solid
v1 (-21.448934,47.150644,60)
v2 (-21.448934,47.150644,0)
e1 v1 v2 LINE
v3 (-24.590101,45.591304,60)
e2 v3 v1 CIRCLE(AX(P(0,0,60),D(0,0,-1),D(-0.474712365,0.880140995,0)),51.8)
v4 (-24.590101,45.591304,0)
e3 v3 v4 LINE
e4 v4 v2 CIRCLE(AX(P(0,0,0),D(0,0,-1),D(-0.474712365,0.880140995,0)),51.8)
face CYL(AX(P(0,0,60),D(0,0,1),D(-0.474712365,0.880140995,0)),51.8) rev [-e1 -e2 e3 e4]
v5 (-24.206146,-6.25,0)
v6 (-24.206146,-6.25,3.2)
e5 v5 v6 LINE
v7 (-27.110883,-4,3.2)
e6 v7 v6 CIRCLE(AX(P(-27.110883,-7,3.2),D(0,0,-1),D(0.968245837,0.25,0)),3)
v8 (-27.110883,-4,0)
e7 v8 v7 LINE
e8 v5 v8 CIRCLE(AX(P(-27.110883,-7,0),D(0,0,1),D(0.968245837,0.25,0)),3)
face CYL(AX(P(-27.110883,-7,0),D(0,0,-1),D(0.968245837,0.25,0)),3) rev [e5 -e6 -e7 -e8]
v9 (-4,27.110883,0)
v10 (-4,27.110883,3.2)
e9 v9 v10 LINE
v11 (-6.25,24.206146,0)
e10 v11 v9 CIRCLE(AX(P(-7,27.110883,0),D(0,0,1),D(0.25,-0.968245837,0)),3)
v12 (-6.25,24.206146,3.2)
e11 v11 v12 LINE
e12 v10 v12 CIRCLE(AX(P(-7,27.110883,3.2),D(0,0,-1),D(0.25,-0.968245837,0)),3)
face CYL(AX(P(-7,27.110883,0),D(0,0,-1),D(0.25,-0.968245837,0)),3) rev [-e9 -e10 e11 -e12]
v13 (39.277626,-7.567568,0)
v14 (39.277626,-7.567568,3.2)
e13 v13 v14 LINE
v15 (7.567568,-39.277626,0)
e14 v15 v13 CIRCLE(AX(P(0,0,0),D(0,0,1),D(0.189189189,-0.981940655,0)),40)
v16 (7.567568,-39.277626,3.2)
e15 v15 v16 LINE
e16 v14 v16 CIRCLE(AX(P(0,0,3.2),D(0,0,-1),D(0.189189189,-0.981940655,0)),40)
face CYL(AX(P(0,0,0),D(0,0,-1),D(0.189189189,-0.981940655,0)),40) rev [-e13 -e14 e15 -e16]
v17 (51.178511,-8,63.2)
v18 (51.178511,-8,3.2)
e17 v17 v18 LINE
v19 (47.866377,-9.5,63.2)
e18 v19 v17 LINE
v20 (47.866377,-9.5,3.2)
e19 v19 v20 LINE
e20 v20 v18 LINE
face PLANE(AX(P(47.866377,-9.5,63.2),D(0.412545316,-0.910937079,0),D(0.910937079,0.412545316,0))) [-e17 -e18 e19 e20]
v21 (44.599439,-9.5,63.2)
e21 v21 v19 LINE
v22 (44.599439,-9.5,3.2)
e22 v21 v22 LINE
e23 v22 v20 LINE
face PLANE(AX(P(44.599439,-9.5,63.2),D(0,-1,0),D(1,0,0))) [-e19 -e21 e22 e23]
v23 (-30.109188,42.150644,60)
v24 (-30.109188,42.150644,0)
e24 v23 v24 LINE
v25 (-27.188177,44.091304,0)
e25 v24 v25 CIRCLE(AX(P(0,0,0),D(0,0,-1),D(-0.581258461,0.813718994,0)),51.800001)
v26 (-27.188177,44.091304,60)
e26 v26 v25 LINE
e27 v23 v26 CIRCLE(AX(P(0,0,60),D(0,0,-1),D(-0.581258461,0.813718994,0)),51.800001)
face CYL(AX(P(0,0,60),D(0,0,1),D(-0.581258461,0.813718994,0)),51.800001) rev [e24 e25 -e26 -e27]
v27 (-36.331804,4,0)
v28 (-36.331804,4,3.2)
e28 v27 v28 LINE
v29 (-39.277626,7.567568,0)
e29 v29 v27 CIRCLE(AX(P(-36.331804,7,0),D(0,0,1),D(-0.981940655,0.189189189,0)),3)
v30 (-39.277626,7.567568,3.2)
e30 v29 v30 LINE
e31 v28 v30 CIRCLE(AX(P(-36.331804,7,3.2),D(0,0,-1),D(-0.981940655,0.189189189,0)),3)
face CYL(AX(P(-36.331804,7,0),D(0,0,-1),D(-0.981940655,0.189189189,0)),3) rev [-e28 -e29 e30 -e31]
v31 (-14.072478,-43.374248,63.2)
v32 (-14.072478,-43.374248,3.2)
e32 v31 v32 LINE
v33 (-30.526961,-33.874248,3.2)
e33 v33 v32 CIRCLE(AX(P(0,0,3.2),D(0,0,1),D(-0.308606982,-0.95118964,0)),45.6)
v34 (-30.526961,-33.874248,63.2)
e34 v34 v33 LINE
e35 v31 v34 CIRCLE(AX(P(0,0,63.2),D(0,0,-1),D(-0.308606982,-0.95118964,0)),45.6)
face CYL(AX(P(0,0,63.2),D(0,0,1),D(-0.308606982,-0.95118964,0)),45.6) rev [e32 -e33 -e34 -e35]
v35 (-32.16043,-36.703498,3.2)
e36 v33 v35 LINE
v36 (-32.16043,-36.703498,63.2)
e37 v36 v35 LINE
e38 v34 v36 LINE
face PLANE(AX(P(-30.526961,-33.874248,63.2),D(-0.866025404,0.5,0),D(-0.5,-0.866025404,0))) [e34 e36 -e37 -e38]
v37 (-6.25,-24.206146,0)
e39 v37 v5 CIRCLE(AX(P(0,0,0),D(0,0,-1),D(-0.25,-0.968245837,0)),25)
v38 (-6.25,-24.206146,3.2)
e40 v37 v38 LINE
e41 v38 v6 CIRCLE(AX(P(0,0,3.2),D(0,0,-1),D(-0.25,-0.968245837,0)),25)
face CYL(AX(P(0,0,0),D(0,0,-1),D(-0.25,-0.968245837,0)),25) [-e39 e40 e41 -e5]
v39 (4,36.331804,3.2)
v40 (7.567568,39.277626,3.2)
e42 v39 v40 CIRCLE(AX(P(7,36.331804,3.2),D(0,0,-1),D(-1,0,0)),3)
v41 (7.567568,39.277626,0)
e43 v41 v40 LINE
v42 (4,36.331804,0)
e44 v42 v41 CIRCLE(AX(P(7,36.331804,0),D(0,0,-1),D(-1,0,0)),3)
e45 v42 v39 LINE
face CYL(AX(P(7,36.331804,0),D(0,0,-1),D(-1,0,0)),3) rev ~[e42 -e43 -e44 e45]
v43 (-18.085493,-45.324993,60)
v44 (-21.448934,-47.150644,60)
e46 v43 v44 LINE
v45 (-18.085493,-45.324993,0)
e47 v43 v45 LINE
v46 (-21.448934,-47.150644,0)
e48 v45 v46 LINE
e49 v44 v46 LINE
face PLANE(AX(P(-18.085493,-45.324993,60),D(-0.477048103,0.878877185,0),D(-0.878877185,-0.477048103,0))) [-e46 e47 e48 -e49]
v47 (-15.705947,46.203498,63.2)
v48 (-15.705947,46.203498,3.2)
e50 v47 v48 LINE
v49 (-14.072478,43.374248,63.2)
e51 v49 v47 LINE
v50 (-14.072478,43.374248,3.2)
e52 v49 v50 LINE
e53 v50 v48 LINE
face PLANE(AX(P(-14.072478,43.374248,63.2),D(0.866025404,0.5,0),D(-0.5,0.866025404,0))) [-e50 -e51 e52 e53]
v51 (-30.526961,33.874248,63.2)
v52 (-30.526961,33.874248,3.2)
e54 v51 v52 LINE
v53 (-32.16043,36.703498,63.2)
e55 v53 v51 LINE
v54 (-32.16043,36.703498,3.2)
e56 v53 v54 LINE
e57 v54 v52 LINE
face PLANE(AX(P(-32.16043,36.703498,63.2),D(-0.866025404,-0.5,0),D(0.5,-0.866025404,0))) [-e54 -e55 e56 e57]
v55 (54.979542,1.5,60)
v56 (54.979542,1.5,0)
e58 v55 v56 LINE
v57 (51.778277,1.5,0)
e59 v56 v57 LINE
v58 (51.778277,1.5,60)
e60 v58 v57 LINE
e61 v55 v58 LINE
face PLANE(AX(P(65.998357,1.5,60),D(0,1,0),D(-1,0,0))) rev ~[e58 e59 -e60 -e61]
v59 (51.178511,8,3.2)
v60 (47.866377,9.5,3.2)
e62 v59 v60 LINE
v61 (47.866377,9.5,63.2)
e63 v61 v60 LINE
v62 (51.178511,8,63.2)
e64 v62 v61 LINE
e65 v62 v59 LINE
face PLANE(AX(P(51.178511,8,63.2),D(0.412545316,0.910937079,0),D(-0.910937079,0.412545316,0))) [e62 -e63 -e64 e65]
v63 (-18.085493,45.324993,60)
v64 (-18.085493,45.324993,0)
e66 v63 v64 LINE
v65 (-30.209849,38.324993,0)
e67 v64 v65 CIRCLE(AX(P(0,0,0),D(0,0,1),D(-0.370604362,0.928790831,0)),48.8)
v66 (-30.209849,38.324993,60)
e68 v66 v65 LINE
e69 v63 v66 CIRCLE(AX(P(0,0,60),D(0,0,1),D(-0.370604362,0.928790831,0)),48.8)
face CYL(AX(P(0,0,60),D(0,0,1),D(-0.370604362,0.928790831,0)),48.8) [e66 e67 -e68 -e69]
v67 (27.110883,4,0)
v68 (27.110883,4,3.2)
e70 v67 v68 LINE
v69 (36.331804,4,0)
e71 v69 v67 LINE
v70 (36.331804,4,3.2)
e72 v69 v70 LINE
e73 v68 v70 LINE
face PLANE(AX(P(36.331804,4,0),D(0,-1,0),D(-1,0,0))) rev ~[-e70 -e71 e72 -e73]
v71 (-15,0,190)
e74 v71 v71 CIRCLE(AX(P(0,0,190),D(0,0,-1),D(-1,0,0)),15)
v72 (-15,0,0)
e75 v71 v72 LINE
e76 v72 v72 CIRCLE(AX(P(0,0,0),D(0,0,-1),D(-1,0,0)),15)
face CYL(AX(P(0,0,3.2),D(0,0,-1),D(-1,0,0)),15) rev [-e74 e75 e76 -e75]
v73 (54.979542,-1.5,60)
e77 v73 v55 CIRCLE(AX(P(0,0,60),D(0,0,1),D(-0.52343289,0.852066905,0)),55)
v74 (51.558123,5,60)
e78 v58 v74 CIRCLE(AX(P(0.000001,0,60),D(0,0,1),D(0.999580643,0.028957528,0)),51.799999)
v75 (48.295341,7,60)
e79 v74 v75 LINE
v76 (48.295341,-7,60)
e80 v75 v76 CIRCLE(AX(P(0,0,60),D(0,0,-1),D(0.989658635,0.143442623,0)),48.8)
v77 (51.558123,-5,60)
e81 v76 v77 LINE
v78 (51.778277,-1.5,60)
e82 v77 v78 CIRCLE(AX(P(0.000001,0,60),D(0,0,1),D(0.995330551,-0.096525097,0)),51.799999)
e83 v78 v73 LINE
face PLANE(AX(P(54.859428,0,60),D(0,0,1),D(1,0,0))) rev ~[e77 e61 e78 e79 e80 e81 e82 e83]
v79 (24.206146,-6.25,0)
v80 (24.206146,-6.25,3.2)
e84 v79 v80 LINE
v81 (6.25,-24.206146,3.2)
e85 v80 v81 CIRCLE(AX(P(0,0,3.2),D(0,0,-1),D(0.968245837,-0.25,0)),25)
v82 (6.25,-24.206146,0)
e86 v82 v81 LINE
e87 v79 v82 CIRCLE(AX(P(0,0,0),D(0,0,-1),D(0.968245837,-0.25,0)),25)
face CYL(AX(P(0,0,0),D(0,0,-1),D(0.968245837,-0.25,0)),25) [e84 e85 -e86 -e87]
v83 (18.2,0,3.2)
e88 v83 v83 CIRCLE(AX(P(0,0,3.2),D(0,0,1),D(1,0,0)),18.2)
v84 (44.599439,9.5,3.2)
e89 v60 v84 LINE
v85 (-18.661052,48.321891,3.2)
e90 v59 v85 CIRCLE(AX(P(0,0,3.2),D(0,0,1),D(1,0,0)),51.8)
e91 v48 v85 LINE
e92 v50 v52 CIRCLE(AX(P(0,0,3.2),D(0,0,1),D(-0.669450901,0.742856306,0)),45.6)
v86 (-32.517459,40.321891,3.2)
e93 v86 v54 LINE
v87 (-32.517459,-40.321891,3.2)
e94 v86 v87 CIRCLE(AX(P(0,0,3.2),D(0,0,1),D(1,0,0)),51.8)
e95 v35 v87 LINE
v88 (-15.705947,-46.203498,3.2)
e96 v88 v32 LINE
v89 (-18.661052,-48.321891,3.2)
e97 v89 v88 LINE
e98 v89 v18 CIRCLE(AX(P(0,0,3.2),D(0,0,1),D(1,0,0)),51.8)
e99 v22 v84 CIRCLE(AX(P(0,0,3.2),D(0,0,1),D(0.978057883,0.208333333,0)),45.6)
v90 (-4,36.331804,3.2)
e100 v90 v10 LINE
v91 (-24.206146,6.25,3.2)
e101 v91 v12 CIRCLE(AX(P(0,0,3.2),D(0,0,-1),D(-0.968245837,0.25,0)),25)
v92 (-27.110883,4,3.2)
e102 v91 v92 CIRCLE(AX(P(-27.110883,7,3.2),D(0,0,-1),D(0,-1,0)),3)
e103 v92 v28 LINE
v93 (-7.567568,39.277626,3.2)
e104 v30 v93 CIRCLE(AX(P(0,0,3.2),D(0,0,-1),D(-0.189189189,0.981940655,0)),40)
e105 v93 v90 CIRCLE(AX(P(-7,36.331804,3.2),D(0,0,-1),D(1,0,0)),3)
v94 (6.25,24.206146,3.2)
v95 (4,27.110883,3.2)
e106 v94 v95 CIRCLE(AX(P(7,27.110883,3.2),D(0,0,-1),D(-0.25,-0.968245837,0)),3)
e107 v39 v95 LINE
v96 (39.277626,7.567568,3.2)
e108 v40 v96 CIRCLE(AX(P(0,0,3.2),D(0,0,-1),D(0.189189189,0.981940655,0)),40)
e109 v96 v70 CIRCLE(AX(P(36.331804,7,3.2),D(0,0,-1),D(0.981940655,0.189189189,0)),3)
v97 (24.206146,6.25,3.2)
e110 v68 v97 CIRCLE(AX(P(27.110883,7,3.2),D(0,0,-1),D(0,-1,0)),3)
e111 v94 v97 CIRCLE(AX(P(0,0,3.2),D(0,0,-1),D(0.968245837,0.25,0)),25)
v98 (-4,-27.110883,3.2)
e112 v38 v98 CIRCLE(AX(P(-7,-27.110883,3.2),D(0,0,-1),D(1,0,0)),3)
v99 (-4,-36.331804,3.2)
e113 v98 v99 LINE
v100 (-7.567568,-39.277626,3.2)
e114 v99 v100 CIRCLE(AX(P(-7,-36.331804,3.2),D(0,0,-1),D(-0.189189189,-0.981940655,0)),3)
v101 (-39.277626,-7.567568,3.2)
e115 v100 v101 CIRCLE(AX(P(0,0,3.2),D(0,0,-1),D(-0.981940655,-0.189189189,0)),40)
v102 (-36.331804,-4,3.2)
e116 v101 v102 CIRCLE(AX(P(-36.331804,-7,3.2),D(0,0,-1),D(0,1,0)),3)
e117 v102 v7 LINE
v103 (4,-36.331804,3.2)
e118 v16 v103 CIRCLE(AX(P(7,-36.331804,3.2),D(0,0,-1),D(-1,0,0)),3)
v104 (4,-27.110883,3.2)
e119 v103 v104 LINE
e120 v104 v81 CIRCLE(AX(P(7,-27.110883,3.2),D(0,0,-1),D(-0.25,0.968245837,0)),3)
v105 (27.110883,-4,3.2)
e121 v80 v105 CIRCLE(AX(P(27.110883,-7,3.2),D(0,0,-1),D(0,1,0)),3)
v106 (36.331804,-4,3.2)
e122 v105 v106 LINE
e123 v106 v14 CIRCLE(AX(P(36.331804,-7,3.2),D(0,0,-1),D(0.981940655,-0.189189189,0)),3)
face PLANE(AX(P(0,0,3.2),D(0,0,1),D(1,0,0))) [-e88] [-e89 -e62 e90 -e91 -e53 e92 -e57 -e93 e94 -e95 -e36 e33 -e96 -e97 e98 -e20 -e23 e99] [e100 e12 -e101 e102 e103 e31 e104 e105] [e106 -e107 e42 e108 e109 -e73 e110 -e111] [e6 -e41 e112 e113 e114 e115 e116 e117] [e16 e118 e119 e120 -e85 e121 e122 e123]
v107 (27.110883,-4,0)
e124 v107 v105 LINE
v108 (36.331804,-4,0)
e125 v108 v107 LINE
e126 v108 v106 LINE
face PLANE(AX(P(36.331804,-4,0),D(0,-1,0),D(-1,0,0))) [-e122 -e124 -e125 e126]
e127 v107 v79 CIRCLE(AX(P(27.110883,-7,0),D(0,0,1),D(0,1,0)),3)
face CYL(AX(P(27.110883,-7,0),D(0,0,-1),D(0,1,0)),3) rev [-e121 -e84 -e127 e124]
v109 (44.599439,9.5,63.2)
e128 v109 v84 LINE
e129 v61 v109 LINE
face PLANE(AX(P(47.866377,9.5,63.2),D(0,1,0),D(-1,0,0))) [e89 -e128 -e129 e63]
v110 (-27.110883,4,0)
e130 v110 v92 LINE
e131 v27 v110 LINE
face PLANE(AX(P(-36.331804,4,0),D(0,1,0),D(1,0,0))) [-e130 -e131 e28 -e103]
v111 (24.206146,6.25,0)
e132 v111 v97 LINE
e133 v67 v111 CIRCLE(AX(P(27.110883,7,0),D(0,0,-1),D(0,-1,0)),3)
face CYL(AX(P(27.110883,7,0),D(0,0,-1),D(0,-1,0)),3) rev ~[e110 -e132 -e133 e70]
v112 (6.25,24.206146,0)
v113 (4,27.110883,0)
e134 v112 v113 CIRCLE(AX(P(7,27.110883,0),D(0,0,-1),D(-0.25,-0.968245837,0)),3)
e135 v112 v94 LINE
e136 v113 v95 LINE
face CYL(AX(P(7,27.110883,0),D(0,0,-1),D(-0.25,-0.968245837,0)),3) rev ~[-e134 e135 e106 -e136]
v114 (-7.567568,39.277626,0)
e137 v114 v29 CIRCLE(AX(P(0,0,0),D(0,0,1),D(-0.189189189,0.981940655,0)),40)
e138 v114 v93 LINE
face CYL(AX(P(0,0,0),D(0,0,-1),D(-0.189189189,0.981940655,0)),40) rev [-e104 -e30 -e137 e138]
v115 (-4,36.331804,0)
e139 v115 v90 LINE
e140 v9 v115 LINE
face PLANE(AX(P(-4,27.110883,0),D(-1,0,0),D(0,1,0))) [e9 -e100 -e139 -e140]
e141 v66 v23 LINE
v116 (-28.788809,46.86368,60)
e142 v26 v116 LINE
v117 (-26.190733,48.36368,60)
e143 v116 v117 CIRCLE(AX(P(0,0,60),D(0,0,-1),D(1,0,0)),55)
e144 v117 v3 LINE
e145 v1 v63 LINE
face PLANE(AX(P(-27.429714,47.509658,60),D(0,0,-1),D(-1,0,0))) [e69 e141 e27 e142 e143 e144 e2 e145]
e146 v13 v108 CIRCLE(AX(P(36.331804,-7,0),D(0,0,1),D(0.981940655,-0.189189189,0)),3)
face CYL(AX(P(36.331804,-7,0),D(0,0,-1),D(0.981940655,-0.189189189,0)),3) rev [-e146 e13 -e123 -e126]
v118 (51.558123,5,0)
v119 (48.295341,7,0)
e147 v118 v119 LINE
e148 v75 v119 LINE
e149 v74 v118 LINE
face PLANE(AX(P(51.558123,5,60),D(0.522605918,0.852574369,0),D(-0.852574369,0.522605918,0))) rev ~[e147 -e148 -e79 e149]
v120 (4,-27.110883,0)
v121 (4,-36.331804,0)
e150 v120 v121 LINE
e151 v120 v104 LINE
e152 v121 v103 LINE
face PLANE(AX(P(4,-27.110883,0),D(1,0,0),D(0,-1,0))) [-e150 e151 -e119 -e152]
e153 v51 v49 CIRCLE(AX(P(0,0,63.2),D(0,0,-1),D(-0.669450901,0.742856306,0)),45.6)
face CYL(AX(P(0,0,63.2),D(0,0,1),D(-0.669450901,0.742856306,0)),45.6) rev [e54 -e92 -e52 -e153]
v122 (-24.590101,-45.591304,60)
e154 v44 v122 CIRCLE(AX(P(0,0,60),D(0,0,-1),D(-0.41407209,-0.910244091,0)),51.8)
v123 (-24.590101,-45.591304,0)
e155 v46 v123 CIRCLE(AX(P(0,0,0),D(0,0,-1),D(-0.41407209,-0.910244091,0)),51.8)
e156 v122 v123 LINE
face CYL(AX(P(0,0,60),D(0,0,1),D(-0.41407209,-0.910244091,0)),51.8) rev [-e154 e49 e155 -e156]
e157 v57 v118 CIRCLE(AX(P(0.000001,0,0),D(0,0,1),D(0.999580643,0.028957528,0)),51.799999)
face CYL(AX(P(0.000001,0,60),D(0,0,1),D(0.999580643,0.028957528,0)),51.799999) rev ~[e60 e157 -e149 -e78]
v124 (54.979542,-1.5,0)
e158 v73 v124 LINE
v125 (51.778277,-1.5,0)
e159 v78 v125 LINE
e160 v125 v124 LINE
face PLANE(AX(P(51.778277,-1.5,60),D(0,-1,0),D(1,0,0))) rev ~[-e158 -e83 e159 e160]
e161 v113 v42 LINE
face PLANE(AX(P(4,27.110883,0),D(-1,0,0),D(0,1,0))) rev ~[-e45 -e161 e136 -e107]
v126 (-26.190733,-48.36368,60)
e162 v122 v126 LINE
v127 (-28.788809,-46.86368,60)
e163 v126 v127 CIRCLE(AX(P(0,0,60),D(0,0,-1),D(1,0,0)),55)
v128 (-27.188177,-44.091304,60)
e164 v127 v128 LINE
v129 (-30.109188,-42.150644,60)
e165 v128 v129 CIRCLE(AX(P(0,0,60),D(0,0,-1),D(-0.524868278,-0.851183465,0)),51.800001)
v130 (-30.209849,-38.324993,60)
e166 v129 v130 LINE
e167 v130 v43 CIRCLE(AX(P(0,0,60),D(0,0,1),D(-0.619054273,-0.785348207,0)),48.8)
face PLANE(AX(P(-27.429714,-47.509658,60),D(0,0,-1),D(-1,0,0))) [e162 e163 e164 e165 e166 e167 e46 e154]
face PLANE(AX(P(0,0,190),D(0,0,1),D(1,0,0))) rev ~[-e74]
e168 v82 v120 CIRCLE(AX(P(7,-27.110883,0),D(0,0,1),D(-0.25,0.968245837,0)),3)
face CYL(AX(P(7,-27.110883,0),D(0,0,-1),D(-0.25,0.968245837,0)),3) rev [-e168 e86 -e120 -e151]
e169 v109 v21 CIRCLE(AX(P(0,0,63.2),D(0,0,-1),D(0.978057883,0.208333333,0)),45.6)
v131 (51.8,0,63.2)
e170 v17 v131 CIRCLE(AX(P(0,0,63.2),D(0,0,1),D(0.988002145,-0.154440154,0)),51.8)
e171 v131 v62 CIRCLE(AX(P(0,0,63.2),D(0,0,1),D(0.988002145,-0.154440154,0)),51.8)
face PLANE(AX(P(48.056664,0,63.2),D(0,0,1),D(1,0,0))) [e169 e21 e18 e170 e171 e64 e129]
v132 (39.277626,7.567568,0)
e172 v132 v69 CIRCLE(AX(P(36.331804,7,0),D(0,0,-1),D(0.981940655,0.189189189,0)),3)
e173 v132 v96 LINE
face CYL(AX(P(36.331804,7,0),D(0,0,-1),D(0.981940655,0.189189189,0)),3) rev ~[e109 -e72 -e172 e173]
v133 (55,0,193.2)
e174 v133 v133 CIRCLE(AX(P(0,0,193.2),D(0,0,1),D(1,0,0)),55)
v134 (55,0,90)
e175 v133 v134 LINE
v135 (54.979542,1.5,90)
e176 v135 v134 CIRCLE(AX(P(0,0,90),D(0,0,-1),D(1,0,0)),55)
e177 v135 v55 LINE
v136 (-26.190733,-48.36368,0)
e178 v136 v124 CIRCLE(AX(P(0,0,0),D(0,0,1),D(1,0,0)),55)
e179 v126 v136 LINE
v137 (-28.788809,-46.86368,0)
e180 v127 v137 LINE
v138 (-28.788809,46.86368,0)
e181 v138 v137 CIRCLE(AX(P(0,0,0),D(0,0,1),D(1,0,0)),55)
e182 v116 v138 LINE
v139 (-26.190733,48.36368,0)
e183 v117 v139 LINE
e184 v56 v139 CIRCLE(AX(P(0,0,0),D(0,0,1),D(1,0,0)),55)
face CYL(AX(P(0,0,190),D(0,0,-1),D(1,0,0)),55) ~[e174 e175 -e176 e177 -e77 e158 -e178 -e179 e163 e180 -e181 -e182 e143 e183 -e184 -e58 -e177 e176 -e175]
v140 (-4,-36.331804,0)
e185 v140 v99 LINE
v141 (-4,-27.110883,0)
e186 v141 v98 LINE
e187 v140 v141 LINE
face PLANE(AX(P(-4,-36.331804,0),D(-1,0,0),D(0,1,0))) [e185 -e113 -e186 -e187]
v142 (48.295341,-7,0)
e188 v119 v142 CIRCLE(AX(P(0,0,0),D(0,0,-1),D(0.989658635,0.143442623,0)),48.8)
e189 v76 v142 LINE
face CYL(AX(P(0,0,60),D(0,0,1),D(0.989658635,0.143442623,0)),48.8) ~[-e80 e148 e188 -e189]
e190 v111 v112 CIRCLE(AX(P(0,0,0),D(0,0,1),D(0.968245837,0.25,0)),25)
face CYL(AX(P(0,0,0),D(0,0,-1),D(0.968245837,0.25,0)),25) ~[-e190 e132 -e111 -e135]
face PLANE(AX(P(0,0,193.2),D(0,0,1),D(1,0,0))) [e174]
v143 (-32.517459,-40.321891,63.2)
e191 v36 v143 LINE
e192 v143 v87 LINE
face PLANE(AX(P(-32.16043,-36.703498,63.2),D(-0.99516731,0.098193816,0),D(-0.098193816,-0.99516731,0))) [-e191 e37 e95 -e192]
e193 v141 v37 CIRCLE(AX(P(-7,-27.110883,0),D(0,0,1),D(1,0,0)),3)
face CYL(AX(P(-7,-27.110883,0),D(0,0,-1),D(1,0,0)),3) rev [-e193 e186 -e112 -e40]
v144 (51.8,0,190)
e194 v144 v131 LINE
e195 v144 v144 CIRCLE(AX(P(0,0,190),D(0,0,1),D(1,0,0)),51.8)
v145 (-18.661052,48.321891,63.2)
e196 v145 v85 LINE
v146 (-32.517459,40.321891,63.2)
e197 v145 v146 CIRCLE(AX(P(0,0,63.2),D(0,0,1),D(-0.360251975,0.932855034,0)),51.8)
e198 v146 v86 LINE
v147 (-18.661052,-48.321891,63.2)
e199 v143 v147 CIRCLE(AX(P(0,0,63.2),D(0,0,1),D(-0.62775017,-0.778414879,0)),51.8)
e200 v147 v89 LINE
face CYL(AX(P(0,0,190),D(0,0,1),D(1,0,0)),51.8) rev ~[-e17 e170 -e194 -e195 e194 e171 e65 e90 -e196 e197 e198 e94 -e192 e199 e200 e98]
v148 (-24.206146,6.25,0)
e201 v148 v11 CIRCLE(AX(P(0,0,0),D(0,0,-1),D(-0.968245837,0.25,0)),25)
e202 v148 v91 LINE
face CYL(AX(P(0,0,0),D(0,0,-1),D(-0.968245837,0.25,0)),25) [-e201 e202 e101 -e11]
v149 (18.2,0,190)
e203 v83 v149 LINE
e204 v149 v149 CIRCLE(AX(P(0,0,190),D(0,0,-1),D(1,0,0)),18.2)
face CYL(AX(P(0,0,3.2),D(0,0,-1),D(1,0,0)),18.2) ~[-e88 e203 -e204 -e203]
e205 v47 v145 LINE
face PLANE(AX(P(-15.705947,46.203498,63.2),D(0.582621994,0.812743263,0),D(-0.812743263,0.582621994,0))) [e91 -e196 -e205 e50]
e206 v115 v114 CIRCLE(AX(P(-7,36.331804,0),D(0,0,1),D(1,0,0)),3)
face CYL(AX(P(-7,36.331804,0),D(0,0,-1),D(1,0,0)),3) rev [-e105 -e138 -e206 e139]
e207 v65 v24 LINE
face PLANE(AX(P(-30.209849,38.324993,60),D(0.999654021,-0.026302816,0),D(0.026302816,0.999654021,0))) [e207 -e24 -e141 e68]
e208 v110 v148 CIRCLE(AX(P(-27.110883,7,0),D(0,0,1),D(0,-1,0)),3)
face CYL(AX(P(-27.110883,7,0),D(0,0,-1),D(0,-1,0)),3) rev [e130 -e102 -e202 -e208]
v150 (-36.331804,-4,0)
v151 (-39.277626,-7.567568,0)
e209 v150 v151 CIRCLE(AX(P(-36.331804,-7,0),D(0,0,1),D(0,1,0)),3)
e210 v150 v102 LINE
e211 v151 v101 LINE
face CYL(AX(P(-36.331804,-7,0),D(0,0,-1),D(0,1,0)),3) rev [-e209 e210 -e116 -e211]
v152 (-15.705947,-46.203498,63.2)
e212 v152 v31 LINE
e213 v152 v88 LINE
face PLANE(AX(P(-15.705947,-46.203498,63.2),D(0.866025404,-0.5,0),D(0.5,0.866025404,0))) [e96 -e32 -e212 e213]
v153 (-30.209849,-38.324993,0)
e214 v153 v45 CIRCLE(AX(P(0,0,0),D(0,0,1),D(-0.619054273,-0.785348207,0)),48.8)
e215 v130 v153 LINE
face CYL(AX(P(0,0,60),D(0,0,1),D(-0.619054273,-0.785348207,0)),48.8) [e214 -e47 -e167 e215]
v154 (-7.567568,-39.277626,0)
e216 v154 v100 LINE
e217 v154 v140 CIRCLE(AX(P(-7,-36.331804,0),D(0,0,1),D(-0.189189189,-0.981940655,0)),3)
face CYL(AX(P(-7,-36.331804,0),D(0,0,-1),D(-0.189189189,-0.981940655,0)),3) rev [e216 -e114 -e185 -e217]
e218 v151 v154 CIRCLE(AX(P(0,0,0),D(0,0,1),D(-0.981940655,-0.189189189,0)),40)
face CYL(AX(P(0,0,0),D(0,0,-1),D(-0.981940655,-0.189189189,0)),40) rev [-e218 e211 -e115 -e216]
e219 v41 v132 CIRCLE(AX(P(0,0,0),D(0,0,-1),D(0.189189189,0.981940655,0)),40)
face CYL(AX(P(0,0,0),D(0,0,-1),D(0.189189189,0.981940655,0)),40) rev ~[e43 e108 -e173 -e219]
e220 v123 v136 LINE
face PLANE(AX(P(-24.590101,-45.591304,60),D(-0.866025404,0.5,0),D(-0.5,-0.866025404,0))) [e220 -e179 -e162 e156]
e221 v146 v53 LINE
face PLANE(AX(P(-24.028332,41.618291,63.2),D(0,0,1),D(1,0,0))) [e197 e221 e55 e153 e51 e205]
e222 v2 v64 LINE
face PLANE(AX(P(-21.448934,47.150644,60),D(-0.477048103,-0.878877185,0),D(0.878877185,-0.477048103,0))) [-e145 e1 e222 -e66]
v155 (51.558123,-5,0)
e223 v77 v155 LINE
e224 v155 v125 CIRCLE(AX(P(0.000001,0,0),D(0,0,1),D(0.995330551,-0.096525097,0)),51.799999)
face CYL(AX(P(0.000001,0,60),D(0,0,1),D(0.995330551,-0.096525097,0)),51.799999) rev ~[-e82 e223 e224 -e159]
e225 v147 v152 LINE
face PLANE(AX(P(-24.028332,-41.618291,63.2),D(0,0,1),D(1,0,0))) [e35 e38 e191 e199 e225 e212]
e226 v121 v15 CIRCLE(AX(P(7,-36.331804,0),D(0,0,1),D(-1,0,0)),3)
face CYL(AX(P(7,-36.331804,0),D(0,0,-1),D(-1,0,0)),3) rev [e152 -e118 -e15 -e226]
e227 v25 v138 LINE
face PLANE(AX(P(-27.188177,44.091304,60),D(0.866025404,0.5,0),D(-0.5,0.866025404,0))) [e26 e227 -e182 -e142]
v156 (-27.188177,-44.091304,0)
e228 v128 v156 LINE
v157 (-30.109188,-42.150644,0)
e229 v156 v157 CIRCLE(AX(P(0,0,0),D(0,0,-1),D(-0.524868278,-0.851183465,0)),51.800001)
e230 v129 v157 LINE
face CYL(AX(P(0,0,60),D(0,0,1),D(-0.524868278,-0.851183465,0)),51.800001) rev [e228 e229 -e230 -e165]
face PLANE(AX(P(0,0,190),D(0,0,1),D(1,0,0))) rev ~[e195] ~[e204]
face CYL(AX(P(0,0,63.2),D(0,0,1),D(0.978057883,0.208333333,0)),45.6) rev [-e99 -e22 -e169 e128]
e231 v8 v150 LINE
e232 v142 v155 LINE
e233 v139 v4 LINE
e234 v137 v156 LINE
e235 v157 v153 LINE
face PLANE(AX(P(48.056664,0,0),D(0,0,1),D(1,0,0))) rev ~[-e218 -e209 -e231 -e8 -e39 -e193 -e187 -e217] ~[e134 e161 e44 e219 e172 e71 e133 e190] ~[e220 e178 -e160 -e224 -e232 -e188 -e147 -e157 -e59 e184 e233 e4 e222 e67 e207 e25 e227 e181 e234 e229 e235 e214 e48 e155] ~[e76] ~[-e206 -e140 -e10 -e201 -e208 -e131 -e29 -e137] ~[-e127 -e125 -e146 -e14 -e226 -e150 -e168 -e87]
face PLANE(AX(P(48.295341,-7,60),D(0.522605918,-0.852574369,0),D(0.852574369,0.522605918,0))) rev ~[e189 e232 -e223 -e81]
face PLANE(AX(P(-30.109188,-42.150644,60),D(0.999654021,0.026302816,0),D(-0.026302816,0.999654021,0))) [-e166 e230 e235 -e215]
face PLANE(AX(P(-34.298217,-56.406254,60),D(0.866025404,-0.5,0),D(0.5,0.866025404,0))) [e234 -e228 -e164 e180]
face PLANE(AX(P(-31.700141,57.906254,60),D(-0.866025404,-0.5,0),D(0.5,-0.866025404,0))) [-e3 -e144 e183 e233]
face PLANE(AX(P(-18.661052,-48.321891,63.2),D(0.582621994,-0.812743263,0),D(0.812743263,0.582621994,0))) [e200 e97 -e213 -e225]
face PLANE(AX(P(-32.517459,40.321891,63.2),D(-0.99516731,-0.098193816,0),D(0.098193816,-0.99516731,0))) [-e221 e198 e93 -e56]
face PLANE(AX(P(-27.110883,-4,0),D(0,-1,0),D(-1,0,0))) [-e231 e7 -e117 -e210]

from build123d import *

# Parameters (mm, degrees)
SKETCH_1_R          = 55
EXTRUDE_1_DEPTH     = 190
SKETCH_2_R          = 51.8
CUT_EXTRUDE_1_DEPTH = 186.8
SKETCH_3_R          = 15
CUT_EXTRUDE_2_DEPTH = 10
SKETCH_4_R          = 18.2
SKETCH_4_R_2        = 15
EXTRUDE_2_DEPTH     = 188
SKETCH_5_R          = 55
EXTRUDE_5_DEPTH     = 3.2
EXTRUDE_6_DEPTH     = 1.5
EXTRUDE_START       = -63.2
EXTRUDE_7_DEPTH     = 63.2
CUT_EXTRUDE_START   = -60
CUT_EXTRUDE_4_DEPTH = 60
SKETCH_12_R         = 138.367390037
SKETCH_12_R_2       = 55
CUT_EXTRUDE_5_DEPTH = 135
CUT_EXTRUDE_6_DEPTH = 10


with BuildPart() as part:
    # 草图1 → 凸台-拉伸1 (new body)
    with BuildSketch(Plane.XY):
        Circle(SKETCH_1_R)
    extrude(amount=EXTRUDE_1_DEPTH)

    # 草图2 → 切除-拉伸1 (cut)
    with BuildSketch(Plane.XY.offset(190)):
        Circle(SKETCH_2_R)
    extrude(amount=-CUT_EXTRUDE_1_DEPTH, mode=Mode.SUBTRACT)

    # 草图3 → 切除-拉伸2 (cut)
    with BuildSketch(Plane(origin=(0, 0, 0), x_dir=(-1, 0, 0), z_dir=(0, 0, -1))):
        Circle(SKETCH_3_R)
    extrude(amount=-CUT_EXTRUDE_2_DEPTH, mode=Mode.SUBTRACT)

    # 草图4 → 凸台-拉伸2 (add)
    with BuildSketch(Plane.XY.offset(3.2)):
        Circle(SKETCH_4_R)
        with Locations(Location((0, 0, 0), (0, 0, 180))):
            Circle(SKETCH_4_R_2, mode=Mode.SUBTRACT)
    extrude(amount=EXTRUDE_2_DEPTH)

    # 草图5 → 凸台-拉伸5 (add)
    with BuildSketch(Plane.XY.offset(190)):
        Circle(SKETCH_5_R)
    extrude(amount=EXTRUDE_5_DEPTH)

    # 草图8 → 凸台-拉伸6 (add, symmetric)
    with BuildSketch(Plane(origin=(0, 0, 0), x_dir=(-1, 0, 0), z_dir=(0, 1, 0))):
        Polygon((-55, 90), (-135, 65), (-135, -15), (-55, 0), (-53, 0), (-53, 90), align=None)
    extrude(amount=EXTRUDE_6_DEPTH, both=True)

    # 草图9 → 凸台-拉伸7 (add)
    with BuildSketch(Plane(origin=(0, 0, 0), x_dir=(-1, 0, 0), z_dir=(0, 0, -1)).offset(EXTRUDE_START)):
        with BuildLine():
            Line((-51.178511116, 8), (-47.866376508, 9.5))
            Line((-47.866376508, 9.5), (-44.599439458, 9.5))
            ThreePointArc((-44.599439458, 9.5), (-45.6, 0), (-44.599439458, -9.5))
            Line((-44.599439458, -9.5), (-47.866376508, -9.5))
            Line((-47.866376508, -9.5), (-51.178511116, -8))
            ThreePointArc((-51.178511116, -8), (-51.8, 0), (-51.178511116, 8))
        make_face()
        with BuildLine():
            Line((32.517458788, 40.321890754), (32.16042959, 36.703498043))
            Line((32.16042959, 36.703498043), (30.526961065, 33.874247565))
            ThreePointArc((30.526961065, 33.874247565), (22.8, 39.490758413), (14.072478393, 43.374247565))
            Line((14.072478393, 43.374247565), (15.705946918, 46.203498043))
            Line((15.705946918, 46.203498043), (18.661052327, 48.321890754))
            ThreePointArc((18.661052327, 48.321890754), (25.9, 44.860115916), (32.517458788, 40.321890754))
        make_face()
        with BuildLine():
            Line((18.661052327, -48.321890754), (15.705946918, -46.203498043))
            Line((15.705946918, -46.203498043), (14.072478393, -43.374247565))
            ThreePointArc((14.072478393, -43.374247565), (22.8, -39.490758413), (30.526961065, -33.874247565))
            Line((30.526961065, -33.874247565), (32.16042959, -36.703498043))
            Line((32.16042959, -36.703498043), (32.517458788, -40.321890754))
            ThreePointArc((32.517458788, -40.321890754), (25.9, -44.860115916), (18.661052327, -48.321890754))
        make_face()
    extrude(amount=EXTRUDE_7_DEPTH)

    # 草图11 → 切除-拉伸4 (cut)
    with BuildSketch(Plane(origin=(0, 0, 0), x_dir=(-1, 0, 0), z_dir=(0, 0, -1)).offset(CUT_EXTRUDE_START)):
        with BuildLine():
            Line((-65.998357279, 1.5), (-51.778277298, 1.5))
            ThreePointArc((-51.778277298, 1.5), (-51.697827643, 3.251863624), (-51.558122541, 5))
            Line((-51.558122541, 5), (-48.29534139, 7))
            ThreePointArc((-48.29534139, 7), (-48.8, 0), (-48.29534139, -7))
            Line((-48.29534139, -7), (-51.558122541, -5))
            ThreePointArc((-51.558122541, -5), (-51.697827643, -3.251863624), (-51.778277298, -1.5))
            Line((-51.778277298, -1.5), (-65.998357279, -1.5))
            Line((-65.998357279, -1.5), (-65.998357279, 1.5))
        make_face()
        with BuildLine():
            Line((34.298216745, 56.406254012), (31.700140534, 57.906254012))
            Line((31.700140534, 57.906254012), (24.590100544, 45.591303505))
            ThreePointArc((24.590100544, 45.591303505), (23.032717313, 46.397563871), (21.448934252, 47.150643892))
            Line((21.448934252, 47.150643892), (18.085492869, 45.324992528))
            ThreePointArc((18.085492869, 45.324992528), (24.4, 42.262039705), (30.209848522, 38.324992528))
            Line((30.209848522, 38.324992528), (30.10918829, 42.150643892))
            ThreePointArc((30.10918829, 42.150643892), (28.665110329, 43.145700247), (27.188176755, 44.091303505))
            Line((27.188176755, 44.091303505), (34.298216745, 56.406254012))
        make_face()
        with BuildLine():
            Line((31.700140534, -57.906254012), (34.298216745, -56.406254012))
            Line((34.298216745, -56.406254012), (27.188176755, -44.091303505))
            ThreePointArc((27.188176755, -44.091303505), (28.665110329, -43.145700247), (30.10918829, -42.150643892))
            Line((30.10918829, -42.150643892), (30.209848522, -38.324992528))
            ThreePointArc((30.209848522, -38.324992528), (24.4, -42.262039705), (18.085492869, -45.324992528))
            Line((18.085492869, -45.324992528), (21.448934252, -47.150643892))
            ThreePointArc((21.448934252, -47.150643892), (23.032717313, -46.397563871), (24.590100544, -45.591303505))
            Line((24.590100544, -45.591303505), (31.700140534, -57.906254012))
        make_face()
    extrude(amount=CUT_EXTRUDE_4_DEPTH, mode=Mode.SUBTRACT)

    # 草图12 → 切除-拉伸5 (cut, symmetric)
    with BuildSketch(Plane(origin=(0, 0, 0), x_dir=(-1, 0, 0), z_dir=(0, 0, -1))):
        Circle(SKETCH_12_R)
        with Locations(Location((0, 0, 0), (0, 0, 58.437194054))):
            Circle(SKETCH_12_R_2, mode=Mode.SUBTRACT)
    extrude(amount=CUT_EXTRUDE_5_DEPTH, both=True, mode=Mode.SUBTRACT)

    # 草图13 → 切除-拉伸6 (cut)
    with BuildSketch(Plane(origin=(0, 0, 0), x_dir=(-1, 0, 0), z_dir=(0, 0, -1))):
        with BuildLine():
            Line((4, 27.110883423), (4, 36.331804249))
            ThreePointArc((4, 36.331804249), (5.08985638, 38.645103052), (7.567567568, 39.277626215))
            ThreePointArc((7.567567568, 39.277626215), (28.284271247, 28.284271247), (39.277626215, 7.567567568))
            ThreePointArc((39.277626215, 7.567567568), (38.645103052, 5.08985638), (36.331804249, 4))
            Line((36.331804249, 4), (27.110883423, 4))
            ThreePointArc((27.110883423, 4), (25.273766116, 4.628291755), (24.206145914, 6.25))
            ThreePointArc((24.206145914, 6.25), (17.67766953, 17.67766953), (6.25, 24.206145914))
            ThreePointArc((6.25, 24.206145914), (4.628291755, 25.273766116), (4, 27.110883423))
        make_face()
        with BuildLine():
            Line((-4, 27.110883423), (-4, 36.331804249))
            ThreePointArc((-4, 36.331804249), (-5.08985638, 38.645103052), (-7.567567568, 39.277626215))
            ThreePointArc((-7.567567568, 39.277626215), (-28.284271247, 28.284271247), (-39.277626215, 7.567567568))
            ThreePointArc((-39.277626215, 7.567567568), (-38.645103052, 5.08985638), (-36.331804249, 4))
            Line((-36.331804249, 4), (-27.110883423, 4))
            ThreePointArc((-27.110883423, 4), (-25.273766116, 4.628291755), (-24.206145914, 6.25))
            ThreePointArc((-24.206145914, 6.25), (-17.67766953, 17.67766953), (-6.25, 24.206145914))
            ThreePointArc((-6.25, 24.206145914), (-4.628291755, 25.273766116), (-4, 27.110883423))
        make_face()
        with BuildLine():
            Line((27.110883423, -4), (36.331804249, -4))
            ThreePointArc((36.331804249, -4), (38.645103052, -5.08985638), (39.277626215, -7.567567568))
            ThreePointArc((39.277626215, -7.567567568), (28.284271247, -28.284271247), (7.567567568, -39.277626215))
            ThreePointArc((7.567567568, -39.277626215), (5.08985638, -38.645103052), (4, -36.331804249))
            Line((4, -36.331804249), (4, -27.110883423))
            ThreePointArc((4, -27.110883423), (4.628291755, -25.273766116), (6.25, -24.206145914))
            ThreePointArc((6.25, -24.206145914), (17.67766953, -17.67766953), (24.206145914, -6.25))
            ThreePointArc((24.206145914, -6.25), (25.273766116, -4.628291755), (27.110883423, -4))
        make_face()
        with BuildLine():
            Line((-4, -27.110883423), (-4, -36.331804249))
            ThreePointArc((-4, -36.331804249), (-5.08985638, -38.645103052), (-7.567567568, -39.277626215))
            ThreePointArc((-7.567567568, -39.277626215), (-28.284271247, -28.284271247), (-39.277626215, -7.567567568))
            ThreePointArc((-39.277626215, -7.567567568), (-38.645103052, -5.08985638), (-36.331804249, -4))
            Line((-36.331804249, -4), (-27.110883423, -4))
            ThreePointArc((-27.110883423, -4), (-25.273766116, -4.628291755), (-24.206145914, -6.25))
            ThreePointArc((-24.206145914, -6.25), (-17.67766953, -17.67766953), (-6.25, -24.206145914))
            ThreePointArc((-6.25, -24.206145914), (-4.628291755, -25.273766116), (-4, -27.110883423))
        make_face()
    extrude(amount=-CUT_EXTRUDE_6_DEPTH, mode=Mode.SUBTRACT)


solid = part.part
